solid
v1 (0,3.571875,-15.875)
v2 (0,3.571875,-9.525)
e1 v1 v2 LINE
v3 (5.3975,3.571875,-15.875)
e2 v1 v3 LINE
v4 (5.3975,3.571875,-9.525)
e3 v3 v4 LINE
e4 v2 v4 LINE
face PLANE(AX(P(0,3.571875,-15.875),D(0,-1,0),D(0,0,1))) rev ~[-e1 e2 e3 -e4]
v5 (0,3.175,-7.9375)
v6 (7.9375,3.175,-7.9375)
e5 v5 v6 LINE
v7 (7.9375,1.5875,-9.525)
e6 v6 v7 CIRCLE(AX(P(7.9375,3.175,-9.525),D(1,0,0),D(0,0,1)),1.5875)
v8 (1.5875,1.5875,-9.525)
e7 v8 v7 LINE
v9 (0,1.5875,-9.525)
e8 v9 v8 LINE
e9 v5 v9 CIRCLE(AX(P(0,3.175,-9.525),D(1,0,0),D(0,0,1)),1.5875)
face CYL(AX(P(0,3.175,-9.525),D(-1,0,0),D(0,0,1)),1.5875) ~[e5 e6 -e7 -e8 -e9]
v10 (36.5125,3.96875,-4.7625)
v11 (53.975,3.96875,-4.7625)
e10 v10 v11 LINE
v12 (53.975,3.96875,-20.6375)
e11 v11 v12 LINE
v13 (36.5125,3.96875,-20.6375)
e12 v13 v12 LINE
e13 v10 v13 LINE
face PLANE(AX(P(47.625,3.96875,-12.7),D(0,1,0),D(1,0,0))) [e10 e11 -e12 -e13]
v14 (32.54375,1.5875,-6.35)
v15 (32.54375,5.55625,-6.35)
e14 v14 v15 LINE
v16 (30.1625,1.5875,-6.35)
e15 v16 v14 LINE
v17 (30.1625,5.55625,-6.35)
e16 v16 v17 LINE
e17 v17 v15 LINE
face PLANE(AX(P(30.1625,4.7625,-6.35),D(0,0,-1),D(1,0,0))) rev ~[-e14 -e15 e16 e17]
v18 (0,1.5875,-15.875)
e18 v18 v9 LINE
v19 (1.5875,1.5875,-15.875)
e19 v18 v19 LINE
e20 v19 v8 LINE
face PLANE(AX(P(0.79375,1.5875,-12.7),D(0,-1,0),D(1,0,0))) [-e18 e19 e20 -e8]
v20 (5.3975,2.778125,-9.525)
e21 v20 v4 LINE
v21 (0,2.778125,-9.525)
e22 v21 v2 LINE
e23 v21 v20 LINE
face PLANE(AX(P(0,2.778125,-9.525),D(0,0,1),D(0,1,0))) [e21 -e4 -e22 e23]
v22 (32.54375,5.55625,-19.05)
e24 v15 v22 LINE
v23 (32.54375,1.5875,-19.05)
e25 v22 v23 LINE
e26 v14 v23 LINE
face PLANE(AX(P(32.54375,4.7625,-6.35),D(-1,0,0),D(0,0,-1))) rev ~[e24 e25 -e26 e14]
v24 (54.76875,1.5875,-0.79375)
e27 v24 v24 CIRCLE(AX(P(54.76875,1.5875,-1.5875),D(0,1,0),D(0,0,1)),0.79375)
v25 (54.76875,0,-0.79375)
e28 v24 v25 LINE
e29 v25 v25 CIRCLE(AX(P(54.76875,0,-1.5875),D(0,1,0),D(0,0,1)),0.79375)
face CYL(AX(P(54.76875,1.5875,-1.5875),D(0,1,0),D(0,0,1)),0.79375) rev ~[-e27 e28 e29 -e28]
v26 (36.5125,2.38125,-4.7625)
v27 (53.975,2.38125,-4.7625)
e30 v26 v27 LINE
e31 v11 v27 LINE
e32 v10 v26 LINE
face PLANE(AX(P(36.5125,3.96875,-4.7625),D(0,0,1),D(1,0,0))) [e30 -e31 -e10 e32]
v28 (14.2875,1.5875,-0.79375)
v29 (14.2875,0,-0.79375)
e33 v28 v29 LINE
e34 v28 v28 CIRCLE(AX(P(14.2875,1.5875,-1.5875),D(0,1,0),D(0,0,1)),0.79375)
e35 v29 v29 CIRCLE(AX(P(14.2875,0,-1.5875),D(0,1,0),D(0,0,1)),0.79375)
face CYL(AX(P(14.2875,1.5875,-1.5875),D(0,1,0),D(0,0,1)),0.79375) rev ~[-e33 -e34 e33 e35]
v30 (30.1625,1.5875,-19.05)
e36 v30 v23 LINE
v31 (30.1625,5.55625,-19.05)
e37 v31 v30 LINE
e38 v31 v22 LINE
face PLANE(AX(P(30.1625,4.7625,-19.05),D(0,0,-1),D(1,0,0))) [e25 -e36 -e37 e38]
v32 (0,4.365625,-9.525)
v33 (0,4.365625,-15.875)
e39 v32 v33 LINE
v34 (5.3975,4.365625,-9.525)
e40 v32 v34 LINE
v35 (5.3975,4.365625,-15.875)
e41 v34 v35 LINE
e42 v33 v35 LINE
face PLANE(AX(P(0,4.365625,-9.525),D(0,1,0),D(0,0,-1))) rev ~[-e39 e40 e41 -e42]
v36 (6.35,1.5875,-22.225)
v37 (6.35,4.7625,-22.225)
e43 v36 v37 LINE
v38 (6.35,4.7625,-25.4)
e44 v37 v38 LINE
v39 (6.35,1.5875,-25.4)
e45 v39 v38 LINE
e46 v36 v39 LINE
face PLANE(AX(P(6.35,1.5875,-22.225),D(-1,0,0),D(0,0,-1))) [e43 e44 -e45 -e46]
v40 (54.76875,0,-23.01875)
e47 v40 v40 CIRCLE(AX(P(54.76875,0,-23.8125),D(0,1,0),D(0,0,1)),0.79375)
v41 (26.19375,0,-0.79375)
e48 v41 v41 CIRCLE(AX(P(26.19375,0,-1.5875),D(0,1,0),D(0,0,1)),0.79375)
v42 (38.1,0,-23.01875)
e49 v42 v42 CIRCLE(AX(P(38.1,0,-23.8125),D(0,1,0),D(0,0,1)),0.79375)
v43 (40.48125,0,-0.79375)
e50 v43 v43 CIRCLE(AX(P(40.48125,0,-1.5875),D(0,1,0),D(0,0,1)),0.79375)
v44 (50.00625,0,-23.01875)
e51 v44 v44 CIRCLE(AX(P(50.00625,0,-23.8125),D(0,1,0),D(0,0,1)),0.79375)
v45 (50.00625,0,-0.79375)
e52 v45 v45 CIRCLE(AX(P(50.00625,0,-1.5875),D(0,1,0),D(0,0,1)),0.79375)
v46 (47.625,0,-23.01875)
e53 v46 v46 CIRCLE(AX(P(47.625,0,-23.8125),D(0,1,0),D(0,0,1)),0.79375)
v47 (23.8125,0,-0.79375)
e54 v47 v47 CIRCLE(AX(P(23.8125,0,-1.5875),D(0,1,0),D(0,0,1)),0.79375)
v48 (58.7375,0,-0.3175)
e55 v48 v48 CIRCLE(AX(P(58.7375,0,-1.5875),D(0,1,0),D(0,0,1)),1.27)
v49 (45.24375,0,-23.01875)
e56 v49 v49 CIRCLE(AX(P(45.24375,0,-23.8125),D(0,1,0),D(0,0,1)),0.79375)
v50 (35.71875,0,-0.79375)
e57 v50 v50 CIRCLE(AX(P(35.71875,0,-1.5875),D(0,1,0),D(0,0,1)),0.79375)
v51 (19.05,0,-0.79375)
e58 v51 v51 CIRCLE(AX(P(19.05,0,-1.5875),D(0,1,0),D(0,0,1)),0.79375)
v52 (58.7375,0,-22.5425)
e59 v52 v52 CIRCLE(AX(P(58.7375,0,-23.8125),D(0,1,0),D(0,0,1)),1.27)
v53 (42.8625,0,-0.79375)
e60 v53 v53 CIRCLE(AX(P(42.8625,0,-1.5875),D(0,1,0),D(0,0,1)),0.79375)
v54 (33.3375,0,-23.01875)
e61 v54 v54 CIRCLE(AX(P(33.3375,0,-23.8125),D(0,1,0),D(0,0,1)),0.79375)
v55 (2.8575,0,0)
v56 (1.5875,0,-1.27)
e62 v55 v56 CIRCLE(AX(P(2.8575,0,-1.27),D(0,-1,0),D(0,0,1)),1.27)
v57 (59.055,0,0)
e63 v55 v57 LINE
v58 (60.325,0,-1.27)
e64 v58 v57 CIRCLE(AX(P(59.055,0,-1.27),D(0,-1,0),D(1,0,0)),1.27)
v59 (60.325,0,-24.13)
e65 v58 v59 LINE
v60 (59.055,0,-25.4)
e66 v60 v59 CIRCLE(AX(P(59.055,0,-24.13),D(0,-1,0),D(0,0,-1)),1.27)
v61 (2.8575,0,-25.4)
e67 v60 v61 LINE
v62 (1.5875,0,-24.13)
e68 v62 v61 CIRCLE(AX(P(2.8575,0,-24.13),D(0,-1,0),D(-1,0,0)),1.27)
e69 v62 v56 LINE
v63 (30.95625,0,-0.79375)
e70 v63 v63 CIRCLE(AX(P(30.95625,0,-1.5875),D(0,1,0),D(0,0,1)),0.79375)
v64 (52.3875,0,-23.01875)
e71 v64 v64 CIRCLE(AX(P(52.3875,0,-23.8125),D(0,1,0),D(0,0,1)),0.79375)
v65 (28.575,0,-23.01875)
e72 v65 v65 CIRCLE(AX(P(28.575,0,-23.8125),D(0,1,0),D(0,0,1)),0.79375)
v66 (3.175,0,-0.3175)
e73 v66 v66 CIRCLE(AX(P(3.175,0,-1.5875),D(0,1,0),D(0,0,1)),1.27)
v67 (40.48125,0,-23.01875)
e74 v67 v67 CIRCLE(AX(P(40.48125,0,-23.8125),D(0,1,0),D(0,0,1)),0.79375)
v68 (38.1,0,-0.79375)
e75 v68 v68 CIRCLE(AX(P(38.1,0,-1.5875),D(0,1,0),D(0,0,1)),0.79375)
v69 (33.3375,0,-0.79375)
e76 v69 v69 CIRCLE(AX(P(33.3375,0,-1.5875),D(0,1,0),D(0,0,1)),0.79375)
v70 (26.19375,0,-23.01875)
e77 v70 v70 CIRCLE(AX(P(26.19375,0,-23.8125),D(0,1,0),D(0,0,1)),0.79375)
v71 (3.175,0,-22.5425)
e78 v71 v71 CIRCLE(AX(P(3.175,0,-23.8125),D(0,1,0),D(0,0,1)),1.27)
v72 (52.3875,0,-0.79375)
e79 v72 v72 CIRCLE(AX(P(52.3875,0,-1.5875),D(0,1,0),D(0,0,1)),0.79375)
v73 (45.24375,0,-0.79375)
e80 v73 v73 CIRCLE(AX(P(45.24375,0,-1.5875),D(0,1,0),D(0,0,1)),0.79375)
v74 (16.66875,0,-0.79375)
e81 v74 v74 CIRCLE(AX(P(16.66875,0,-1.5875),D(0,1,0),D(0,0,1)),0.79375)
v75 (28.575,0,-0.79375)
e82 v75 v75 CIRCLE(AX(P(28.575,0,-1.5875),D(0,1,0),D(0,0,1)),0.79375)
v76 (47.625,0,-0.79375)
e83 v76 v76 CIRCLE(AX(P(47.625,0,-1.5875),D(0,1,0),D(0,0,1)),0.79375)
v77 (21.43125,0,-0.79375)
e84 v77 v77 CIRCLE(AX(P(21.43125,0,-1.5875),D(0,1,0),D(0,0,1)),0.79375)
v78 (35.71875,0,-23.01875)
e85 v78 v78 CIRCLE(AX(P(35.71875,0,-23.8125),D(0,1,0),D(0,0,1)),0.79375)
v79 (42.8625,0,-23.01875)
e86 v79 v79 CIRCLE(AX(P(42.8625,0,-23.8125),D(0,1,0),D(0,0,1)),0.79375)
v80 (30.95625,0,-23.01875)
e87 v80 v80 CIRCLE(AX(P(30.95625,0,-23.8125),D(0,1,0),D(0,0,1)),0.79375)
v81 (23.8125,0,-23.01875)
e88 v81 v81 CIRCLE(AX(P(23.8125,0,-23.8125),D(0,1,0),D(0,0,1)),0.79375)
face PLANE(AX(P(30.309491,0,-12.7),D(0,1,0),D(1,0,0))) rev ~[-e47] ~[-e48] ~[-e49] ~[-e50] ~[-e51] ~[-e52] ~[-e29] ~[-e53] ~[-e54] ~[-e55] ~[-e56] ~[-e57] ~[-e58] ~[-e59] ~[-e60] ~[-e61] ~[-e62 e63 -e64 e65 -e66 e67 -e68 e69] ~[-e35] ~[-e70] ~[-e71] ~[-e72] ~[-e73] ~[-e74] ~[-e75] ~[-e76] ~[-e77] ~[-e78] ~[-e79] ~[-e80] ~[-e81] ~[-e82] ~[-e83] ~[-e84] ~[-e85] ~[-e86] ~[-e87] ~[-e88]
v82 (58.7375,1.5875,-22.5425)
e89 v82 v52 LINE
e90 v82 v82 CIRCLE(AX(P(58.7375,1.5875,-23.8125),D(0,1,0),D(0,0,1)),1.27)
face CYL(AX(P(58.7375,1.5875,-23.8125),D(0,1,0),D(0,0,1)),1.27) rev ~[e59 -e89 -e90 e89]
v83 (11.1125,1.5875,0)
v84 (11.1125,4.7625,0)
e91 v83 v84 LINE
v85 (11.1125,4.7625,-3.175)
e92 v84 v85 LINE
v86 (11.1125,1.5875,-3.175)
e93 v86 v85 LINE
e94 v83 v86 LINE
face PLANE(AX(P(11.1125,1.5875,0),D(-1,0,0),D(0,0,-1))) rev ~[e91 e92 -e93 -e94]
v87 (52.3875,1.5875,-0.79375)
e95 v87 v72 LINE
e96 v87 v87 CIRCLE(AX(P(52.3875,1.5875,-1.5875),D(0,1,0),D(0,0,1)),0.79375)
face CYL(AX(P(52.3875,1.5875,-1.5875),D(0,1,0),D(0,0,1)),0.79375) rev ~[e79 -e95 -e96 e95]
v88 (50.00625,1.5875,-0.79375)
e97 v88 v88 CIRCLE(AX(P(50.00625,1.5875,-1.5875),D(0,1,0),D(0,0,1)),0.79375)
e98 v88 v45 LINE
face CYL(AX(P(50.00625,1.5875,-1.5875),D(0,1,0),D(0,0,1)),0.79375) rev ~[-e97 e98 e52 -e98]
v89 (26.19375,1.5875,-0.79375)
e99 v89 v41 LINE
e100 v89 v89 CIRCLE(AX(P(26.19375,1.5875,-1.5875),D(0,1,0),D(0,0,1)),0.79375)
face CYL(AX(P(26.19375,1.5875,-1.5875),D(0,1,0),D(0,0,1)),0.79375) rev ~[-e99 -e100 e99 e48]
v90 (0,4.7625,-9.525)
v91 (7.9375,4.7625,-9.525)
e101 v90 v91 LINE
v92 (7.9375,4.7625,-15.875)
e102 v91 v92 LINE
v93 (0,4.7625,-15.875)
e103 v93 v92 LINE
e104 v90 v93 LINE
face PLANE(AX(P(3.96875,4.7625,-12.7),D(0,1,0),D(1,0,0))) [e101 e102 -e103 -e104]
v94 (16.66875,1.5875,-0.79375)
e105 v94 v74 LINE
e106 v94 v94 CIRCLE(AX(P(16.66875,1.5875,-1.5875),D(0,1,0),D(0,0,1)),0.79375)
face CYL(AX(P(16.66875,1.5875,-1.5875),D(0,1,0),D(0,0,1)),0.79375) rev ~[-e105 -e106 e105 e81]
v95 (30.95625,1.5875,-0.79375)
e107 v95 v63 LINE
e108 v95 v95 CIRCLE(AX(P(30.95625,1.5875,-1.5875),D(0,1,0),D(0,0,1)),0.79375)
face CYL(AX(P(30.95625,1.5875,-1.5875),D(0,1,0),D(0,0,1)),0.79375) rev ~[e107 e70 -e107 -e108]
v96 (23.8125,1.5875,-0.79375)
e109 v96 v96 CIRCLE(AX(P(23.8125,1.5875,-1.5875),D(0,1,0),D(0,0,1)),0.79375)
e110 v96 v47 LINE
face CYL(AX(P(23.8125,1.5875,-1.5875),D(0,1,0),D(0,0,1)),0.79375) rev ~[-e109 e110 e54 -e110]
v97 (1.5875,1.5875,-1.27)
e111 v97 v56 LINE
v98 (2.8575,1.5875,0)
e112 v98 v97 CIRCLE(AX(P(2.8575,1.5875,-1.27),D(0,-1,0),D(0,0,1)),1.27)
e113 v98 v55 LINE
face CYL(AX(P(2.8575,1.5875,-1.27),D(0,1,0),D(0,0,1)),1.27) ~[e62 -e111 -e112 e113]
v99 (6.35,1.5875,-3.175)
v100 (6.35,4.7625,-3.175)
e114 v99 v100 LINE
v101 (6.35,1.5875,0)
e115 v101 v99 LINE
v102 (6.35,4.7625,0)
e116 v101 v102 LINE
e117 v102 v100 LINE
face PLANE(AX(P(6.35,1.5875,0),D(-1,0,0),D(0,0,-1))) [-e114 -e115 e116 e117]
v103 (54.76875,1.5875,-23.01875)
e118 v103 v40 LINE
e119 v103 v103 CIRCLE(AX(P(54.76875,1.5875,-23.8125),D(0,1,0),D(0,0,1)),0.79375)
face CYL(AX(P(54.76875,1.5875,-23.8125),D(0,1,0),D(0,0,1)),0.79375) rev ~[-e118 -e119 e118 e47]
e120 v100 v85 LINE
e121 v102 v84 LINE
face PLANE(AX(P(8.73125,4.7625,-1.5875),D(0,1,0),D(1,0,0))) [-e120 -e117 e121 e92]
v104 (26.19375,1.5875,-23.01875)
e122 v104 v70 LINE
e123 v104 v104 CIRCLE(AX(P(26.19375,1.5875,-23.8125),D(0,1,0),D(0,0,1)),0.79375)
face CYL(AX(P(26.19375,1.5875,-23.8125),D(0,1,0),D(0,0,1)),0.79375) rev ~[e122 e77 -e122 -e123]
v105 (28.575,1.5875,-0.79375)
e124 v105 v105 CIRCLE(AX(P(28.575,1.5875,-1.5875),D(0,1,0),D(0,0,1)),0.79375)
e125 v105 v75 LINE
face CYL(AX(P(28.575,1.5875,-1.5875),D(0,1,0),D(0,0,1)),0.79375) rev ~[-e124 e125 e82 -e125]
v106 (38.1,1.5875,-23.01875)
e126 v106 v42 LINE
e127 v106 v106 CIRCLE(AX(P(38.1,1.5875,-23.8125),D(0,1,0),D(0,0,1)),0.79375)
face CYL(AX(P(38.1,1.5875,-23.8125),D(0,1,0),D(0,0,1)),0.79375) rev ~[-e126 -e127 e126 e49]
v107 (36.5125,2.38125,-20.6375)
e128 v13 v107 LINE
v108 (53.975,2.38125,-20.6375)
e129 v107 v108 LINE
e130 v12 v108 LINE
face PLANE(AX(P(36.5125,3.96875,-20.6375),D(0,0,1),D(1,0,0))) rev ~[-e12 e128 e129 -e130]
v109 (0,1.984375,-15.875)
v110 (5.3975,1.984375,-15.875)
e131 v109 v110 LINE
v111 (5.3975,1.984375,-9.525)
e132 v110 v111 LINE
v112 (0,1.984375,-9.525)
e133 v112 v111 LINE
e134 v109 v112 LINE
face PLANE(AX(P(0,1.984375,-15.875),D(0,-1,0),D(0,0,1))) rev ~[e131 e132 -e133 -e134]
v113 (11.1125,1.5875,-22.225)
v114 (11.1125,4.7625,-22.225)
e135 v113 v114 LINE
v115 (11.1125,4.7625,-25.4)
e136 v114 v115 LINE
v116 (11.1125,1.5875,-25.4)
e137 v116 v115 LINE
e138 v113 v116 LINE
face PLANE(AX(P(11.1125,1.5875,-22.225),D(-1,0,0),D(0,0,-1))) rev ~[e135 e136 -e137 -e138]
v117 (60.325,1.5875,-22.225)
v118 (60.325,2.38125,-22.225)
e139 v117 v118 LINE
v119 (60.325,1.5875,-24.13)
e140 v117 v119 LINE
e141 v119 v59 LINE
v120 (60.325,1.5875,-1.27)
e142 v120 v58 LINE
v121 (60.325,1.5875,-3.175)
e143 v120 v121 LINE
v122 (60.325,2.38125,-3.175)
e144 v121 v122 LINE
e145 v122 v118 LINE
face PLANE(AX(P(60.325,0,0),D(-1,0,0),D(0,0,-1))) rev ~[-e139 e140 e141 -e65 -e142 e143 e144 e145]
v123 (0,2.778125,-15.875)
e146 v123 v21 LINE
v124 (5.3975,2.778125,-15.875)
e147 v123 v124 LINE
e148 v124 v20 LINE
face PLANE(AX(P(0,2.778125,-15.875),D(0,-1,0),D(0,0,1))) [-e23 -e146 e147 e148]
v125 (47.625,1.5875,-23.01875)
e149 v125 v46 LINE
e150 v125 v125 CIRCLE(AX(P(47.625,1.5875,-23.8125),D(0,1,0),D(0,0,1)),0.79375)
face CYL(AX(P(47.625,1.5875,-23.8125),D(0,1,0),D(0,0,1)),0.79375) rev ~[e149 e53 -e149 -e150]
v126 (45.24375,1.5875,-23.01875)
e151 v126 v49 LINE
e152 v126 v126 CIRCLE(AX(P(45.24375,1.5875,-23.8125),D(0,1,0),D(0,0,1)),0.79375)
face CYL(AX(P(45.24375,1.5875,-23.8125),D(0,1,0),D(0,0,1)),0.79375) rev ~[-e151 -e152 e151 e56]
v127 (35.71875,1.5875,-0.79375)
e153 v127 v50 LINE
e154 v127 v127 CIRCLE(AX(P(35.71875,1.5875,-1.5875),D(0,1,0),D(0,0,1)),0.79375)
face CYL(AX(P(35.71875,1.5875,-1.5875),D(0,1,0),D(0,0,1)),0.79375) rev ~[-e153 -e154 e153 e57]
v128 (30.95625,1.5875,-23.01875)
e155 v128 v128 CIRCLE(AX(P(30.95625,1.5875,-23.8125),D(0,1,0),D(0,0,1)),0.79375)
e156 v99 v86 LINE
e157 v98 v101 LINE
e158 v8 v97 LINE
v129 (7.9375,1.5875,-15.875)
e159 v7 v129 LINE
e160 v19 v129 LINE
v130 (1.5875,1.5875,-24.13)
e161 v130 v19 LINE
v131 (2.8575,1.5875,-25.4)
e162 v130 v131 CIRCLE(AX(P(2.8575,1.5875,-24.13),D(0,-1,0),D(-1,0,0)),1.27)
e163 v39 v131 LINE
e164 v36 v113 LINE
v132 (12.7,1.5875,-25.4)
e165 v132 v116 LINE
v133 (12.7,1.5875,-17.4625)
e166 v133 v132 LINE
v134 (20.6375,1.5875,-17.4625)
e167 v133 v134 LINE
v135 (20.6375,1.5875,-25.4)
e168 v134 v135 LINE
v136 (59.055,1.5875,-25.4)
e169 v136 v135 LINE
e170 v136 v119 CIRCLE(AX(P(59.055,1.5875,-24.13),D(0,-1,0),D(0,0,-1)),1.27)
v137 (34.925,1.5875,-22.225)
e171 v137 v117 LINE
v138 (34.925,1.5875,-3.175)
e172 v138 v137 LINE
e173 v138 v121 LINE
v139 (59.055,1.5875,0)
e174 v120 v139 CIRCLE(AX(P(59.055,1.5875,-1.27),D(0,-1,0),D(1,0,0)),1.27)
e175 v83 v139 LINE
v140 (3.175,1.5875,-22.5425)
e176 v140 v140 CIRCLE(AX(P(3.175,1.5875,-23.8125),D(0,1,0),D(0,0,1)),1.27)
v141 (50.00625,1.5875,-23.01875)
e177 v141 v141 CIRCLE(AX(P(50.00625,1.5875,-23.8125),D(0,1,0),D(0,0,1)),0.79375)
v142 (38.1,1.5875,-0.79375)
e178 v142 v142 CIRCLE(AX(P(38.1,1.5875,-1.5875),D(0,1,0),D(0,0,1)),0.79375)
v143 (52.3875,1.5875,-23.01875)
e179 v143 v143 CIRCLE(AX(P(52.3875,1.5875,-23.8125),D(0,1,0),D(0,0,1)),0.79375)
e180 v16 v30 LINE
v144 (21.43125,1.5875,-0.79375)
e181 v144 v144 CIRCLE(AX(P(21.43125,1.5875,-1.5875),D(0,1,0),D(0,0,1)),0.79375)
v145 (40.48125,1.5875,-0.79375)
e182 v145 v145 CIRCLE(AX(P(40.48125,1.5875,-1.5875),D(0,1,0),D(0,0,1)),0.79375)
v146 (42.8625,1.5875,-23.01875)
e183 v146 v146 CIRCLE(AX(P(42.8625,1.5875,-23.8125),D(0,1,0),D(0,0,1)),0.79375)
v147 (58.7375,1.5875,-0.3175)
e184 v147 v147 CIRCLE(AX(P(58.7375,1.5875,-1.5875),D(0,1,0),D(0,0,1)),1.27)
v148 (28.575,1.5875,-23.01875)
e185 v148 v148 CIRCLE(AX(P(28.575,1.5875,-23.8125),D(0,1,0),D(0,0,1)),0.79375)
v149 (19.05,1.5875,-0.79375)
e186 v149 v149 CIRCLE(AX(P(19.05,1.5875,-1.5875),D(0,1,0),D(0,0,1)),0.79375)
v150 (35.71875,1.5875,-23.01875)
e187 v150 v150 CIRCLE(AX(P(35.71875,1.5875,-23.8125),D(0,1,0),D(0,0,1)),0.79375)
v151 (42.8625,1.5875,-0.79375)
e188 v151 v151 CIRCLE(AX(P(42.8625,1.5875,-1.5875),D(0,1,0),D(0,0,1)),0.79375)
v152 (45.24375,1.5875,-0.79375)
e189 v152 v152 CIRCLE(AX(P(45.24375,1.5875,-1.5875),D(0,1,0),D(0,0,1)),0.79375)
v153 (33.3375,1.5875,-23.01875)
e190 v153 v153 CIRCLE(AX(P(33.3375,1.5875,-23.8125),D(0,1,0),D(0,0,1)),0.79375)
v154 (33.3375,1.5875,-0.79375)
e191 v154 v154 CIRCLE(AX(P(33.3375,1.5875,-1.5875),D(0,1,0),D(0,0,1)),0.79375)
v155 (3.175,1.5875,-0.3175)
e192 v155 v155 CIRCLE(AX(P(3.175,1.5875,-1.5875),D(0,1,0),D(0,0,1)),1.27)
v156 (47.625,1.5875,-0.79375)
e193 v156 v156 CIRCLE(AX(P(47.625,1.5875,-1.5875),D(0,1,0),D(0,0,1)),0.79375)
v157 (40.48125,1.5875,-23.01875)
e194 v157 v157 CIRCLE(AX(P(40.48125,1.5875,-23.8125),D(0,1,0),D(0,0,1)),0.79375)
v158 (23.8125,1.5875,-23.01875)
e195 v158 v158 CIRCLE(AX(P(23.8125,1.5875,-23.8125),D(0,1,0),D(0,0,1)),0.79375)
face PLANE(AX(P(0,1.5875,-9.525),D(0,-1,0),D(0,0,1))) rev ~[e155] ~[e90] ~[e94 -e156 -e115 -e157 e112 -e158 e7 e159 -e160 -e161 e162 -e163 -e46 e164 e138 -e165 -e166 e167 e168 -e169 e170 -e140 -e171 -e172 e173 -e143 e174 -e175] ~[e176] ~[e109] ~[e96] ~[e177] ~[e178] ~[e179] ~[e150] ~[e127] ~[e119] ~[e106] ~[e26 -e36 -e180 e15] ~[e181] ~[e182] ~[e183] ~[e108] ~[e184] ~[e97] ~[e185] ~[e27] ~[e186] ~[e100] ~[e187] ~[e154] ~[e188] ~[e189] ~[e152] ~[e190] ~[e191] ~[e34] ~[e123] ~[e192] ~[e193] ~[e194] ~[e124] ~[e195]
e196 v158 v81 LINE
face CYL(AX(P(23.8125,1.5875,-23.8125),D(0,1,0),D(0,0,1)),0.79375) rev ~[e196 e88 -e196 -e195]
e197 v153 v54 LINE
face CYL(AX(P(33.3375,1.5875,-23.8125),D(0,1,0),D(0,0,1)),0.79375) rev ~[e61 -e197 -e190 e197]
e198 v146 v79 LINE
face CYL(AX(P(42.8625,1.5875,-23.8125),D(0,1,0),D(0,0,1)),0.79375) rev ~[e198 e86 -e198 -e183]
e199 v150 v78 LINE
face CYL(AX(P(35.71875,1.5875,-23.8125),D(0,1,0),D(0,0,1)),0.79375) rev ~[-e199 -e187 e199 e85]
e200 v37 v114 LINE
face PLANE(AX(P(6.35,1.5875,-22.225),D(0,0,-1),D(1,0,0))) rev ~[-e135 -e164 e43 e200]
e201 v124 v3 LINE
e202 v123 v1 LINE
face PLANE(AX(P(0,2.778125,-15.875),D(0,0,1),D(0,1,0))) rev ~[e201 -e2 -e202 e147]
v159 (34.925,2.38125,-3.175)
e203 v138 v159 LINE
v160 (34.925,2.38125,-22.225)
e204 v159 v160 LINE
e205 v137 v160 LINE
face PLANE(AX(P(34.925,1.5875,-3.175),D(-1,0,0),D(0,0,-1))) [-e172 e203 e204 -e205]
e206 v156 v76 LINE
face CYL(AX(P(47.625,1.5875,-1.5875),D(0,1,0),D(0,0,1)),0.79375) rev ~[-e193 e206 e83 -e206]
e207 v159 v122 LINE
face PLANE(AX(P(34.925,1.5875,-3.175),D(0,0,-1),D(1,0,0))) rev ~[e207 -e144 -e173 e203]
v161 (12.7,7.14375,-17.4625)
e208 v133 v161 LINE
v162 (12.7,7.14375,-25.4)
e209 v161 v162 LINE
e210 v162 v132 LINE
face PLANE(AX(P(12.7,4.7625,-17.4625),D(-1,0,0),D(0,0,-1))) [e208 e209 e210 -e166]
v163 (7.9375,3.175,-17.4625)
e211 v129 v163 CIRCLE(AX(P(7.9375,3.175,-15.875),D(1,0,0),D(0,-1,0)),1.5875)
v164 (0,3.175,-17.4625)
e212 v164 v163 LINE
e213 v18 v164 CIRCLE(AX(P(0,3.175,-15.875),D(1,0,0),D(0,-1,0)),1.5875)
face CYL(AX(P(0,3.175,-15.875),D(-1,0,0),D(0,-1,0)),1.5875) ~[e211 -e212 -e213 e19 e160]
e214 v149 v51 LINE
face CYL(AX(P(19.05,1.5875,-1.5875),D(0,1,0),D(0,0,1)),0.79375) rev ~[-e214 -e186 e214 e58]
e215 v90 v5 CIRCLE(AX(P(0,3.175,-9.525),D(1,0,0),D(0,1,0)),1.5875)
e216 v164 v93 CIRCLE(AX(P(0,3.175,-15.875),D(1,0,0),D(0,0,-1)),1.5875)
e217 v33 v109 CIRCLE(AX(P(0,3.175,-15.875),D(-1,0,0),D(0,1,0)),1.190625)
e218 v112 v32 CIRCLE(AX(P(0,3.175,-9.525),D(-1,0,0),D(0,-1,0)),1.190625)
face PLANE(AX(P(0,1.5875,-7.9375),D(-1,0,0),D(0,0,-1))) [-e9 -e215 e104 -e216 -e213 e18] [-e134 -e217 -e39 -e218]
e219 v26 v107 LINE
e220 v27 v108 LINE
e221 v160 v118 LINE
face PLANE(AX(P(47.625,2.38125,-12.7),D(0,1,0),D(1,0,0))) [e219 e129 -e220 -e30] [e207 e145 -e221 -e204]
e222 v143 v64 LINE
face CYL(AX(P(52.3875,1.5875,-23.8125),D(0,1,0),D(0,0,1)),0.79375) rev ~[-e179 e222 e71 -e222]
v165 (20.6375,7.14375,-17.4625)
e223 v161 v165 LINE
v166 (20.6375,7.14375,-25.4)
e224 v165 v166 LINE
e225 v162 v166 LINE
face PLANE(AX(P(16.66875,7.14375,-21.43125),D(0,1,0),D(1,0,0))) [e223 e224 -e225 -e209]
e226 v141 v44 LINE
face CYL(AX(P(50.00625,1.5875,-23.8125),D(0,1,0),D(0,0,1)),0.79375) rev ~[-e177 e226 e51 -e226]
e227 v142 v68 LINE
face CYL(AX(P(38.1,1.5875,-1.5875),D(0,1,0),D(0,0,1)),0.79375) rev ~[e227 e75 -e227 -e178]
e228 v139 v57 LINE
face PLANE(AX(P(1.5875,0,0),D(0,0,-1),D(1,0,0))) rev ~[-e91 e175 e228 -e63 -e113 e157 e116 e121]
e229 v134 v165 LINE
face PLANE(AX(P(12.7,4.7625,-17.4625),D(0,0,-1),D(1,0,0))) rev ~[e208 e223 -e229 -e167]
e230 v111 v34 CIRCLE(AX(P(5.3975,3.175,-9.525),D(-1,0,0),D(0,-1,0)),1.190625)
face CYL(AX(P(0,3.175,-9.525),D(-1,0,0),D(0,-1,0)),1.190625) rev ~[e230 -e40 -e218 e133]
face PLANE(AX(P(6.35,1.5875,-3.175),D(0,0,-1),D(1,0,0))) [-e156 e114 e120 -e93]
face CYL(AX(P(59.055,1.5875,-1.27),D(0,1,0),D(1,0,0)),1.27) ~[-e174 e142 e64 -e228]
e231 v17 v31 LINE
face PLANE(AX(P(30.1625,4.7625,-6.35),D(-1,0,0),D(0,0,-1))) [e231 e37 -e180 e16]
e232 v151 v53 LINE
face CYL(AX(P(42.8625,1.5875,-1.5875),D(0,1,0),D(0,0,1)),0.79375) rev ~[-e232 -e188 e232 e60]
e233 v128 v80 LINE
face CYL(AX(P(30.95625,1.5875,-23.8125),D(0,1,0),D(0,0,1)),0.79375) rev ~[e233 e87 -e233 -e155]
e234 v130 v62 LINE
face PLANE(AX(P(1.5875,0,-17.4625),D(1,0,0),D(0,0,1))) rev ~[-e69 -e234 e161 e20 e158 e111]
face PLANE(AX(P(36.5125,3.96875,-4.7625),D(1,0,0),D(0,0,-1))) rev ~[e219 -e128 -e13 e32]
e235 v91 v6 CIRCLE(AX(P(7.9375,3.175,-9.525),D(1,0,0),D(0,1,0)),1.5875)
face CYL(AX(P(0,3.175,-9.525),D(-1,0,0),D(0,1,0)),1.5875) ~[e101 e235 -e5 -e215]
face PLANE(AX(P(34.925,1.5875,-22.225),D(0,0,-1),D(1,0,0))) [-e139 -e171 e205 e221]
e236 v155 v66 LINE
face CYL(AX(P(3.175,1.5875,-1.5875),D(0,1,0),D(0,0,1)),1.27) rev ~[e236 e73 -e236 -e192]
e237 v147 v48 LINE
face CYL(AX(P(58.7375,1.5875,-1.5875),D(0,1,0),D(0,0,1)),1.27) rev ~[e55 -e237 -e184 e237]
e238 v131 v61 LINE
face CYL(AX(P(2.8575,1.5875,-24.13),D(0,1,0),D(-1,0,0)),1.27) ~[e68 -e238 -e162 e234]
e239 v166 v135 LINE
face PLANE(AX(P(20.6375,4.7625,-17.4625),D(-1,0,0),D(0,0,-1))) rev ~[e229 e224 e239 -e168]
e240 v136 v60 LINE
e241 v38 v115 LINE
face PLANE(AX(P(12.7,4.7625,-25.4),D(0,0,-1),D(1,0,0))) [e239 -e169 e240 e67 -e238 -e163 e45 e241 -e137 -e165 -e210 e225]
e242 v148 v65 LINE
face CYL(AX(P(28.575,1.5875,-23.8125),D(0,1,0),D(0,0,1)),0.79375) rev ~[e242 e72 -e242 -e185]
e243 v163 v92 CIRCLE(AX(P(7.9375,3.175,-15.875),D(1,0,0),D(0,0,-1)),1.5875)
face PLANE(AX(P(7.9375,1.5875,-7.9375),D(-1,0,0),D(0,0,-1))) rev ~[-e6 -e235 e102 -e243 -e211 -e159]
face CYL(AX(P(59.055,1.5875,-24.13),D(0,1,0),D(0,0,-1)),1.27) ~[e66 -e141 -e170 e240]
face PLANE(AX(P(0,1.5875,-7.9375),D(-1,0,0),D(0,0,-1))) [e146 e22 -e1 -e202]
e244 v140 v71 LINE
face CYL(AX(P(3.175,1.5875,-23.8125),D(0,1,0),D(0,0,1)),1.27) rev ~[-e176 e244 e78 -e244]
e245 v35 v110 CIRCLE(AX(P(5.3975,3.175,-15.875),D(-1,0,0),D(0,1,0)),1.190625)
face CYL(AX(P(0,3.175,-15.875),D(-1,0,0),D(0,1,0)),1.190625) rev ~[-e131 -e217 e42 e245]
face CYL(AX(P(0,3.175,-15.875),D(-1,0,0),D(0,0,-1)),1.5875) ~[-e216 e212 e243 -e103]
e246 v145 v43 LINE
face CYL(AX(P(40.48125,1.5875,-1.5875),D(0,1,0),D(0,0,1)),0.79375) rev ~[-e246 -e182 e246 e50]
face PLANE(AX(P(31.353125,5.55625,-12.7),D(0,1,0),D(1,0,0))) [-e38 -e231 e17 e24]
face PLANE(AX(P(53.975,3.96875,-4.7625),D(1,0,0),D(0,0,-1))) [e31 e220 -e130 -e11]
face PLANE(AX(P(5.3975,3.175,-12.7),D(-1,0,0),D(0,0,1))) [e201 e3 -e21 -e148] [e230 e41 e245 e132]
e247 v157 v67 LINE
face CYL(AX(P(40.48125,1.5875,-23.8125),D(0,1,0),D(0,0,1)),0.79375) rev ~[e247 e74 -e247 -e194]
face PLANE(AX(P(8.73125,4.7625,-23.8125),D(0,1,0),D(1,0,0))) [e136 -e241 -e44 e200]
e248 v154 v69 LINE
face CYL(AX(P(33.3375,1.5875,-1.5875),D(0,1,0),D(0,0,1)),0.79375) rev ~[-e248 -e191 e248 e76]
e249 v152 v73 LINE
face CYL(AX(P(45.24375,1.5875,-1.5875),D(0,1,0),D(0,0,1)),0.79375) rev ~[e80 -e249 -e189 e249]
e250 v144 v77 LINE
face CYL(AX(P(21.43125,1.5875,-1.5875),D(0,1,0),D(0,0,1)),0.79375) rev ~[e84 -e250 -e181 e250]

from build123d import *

# Parameters (mm, degrees)
BOSS_EXTRUDE1_DEPTH = 1.5875
SKETCH2_W           = 7.9375
SKETCH2_H           = 9.525
BOSS_EXTRUDE2_DEPTH = 3.175
CUT_EXTRUDE2_DEPTH  = 7.9375
SKETCH4_W           = 6.35
SKETCH4_H           = 0.79375
CUT_EXTRUDE3_DEPTH  = 5.3975
SKETCH5_W           = 1.5875
SKETCH5_H           = 9.525
CUT_EXTRUDE4_DEPTH  = 1.5875
SKETCH6_R           = 1.27
CUT_EXTRUDE5_DEPTH  = 1.5875
SKETCH7_W           = 25.4
SKETCH7_H           = 19.05
SKETCH7_W_2         = 17.62125
SKETCH7_H_2         = 15.875
SKETCH7_W_3         = 4.7625
SKETCH7_H_3         = 3.175
SKETCH7_W_4         = 7.9375
SKETCH7_H_4         = 7.9375
SKETCH7_W_5         = 2.38125
SKETCH7_H_5         = 12.7
BOSS_EXTRUDE3_DEPTH = 3.175
SKETCH10_W          = 7.9375
SKETCH10_H          = 7.9375
BOSS_EXTRUDE4_DEPTH = 2.38125
SKETCH11_W          = 2.38125
SKETCH11_H          = 12.7
BOSS_EXTRUDE5_DEPTH = 0.79375
SKETCH12_W          = 25.4
SKETCH12_H          = 19.05
CUT_EXTRUDE6_DEPTH  = 0.79375
SKETCH13_W          = 25.4
SKETCH13_H          = 19.05
SKETCH13_W_2        = 17.4625
SKETCH13_H_2        = 15.875
CUT_EXTRUDE7_DEPTH  = 1.5875
SKETCH14_R          = 0.79375
CUT_EXTRUDE8_DEPTH  = 1.5875


with BuildPart() as part:
    # Sketch1 → Boss-Extrude1 (new body)
    with BuildSketch(Plane(origin=(0, 0, 0), x_dir=(1, 0, 0), z_dir=(0, 1, 0))):
        Polygon((1.5875, 7.9375), (1.5875, 0), (60.325, 0), (60.325, 25.4), (1.5875, 25.4), (1.5875, 17.4625), (0, 17.4625), (0, 7.9375), align=None)
    extrude(amount=BOSS_EXTRUDE1_DEPTH)

    # Sketch2 → Boss-Extrude2 (add)
    with BuildSketch(Plane(origin=(0, 1.5875, 0), x_dir=(1, 0, 0), z_dir=(0, 1, 0))):
        with Locations((3.96875, 12.7)):
            Rectangle(SKETCH2_W, SKETCH2_H)
    extrude(amount=BOSS_EXTRUDE2_DEPTH)

    # Sketch3 → Cut-Extrude2 (cut)
    with BuildSketch(Plane.ZY):
        with BuildLine():
            Line((-15.875, 4.7625), (-17.4625, 4.7625))
            Line((-17.4625, 4.7625), (-17.4625, 3.175))
            ThreePointArc((-17.4625, 3.175), (-16.997532015, 4.297532015), (-15.875, 4.7625))
        make_face()
        with BuildLine():
            ThreePointArc((-15.875, 1.5875), (-16.997532015, 2.052467985), (-17.4625, 3.175))
            Line((-17.4625, 3.175), (-17.4625, 1.5875))
            Line((-17.4625, 1.5875), (-15.875, 1.5875))
        make_face()
        with BuildLine():
            Line((-7.9375, 4.7625), (-9.525, 4.7625))
            ThreePointArc((-9.525, 4.7625), (-8.402467985, 4.297532015), (-7.9375, 3.175))
            Line((-7.9375, 3.175), (-7.9375, 4.7625))
        make_face()
        with BuildLine():
            Line((-7.9375, 1.5875), (-7.9375, 3.175))
            ThreePointArc((-7.9375, 3.175), (-8.402467985, 2.052467985), (-9.525, 1.5875))
            Line((-9.525, 1.5875), (-7.9375, 1.5875))
        make_face()
    extrude(amount=-CUT_EXTRUDE2_DEPTH, mode=Mode.SUBTRACT)

    # Sketch4 → Cut-Extrude3 (cut)
    with BuildSketch(Plane.ZY):
        with BuildLine():
            Line((-15.875, 1.984375), (-9.525, 1.984375))
            ThreePointArc((-9.525, 1.984375), (-8.334375, 3.175), (-9.525, 4.365625))
            Line((-9.525, 4.365625), (-15.875, 4.365625))
            ThreePointArc((-15.875, 4.365625), (-17.065625, 3.175), (-15.875, 1.984375))
        make_face()
        with Locations((-12.7, 3.175)):
            Rectangle(SKETCH4_W, SKETCH4_H, mode=Mode.SUBTRACT)
    extrude(amount=-CUT_EXTRUDE3_DEPTH, mode=Mode.SUBTRACT)

    # Sketch5 → Cut-Extrude4 (cut)
    with BuildSketch(Plane.XZ):
        with Locations((0.79375, -12.7)):
            Rectangle(SKETCH5_W, SKETCH5_H)
    extrude(amount=-CUT_EXTRUDE4_DEPTH, mode=Mode.SUBTRACT)

    # Sketch6 → Cut-Extrude5 (cut)
    with BuildSketch(Plane(origin=(0, 1.5875, 0), x_dir=(1, 0, 0), z_dir=(0, 1, 0))):
        with BuildLine():
            ThreePointArc((1.5875, 24.13), (1.959474388, 25.028025612), (2.8575, 25.4))
            Line((2.8575, 25.4), (1.5875, 25.4))
            Line((1.5875, 25.4), (1.5875, 24.13))
        make_face()
        with BuildLine():
            ThreePointArc((2.8575, 0), (1.959474388, 0.371974388), (1.5875, 1.27))
            Line((1.5875, 1.27), (1.5875, 0))
            Line((1.5875, 0), (2.8575, 0))
        make_face()
        with BuildLine():
            Line((60.325, 0), (60.325, 1.27))
            ThreePointArc((60.325, 1.27), (59.953025612, 0.371974388), (59.055, 0))
            Line((59.055, 0), (60.325, 0))
        make_face()
        with BuildLine():
            Line((60.325, 25.4), (59.055, 25.4))
            ThreePointArc((59.055, 25.4), (59.953025612, 25.028025612), (60.325, 24.13))
            Line((60.325, 24.13), (60.325, 25.4))
        make_face()
        with Locations(Location((3.175, 23.8125, 0), (0, 0, 270))):
            Circle(SKETCH6_R)
        with Locations(Location((3.175, 1.5875, 0), (0, 0, 270))):
            Circle(SKETCH6_R)
        with Locations(Location((58.7375, 1.5875, 0), (0, 0, 270))):
            Circle(SKETCH6_R)
        with Locations(Location((58.7375, 23.8125, 0), (0, 0, 270))):
            Circle(SKETCH6_R)
    extrude(amount=-CUT_EXTRUDE5_DEPTH, mode=Mode.SUBTRACT)

    # Sketch7 → Boss-Extrude3 (add)
    with BuildSketch(Plane(origin=(0, 1.5875, 0), x_dir=(1, 0, 0), z_dir=(0, 1, 0))):
        with Locations((47.625, 12.7)):
            Rectangle(SKETCH7_W, SKETCH7_H)
        with Locations((45.323125, 12.7)):
            Rectangle(SKETCH7_W_2, SKETCH7_H_2, mode=Mode.SUBTRACT)
        with Locations((45.323125, 12.7)):
            Rectangle(SKETCH7_W_2, SKETCH7_H_2)
        with Locations((8.73125, 23.8125)):
            Rectangle(SKETCH7_W_3, SKETCH7_H_3)
        with Locations((8.73125, 1.5875)):
            Rectangle(SKETCH7_W_3, SKETCH7_H_3)
        with Locations((16.66875, 21.43125)):
            Rectangle(SKETCH7_W_4, SKETCH7_H_4)
        with Locations((31.353125, 12.7)):
            Rectangle(SKETCH7_W_5, SKETCH7_H_5)
    extrude(amount=BOSS_EXTRUDE3_DEPTH)

    # Sketch10 → Boss-Extrude4 (add)
    with BuildSketch(Plane(origin=(0, 4.7625, 0), x_dir=(1, 0, 0), z_dir=(0, 1, 0))):
        with Locations((16.66875, 21.43125)):
            Rectangle(SKETCH10_W, SKETCH10_H)
    extrude(amount=BOSS_EXTRUDE4_DEPTH)

    # Sketch11 → Boss-Extrude5 (add)
    with BuildSketch(Plane(origin=(0, 4.7625, 0), x_dir=(1, 0, 0), z_dir=(0, 1, 0))):
        with Locations((31.353125, 12.7)):
            Rectangle(SKETCH11_W, SKETCH11_H)
    extrude(amount=BOSS_EXTRUDE5_DEPTH)

    # Sketch12 → Cut-Extrude6 (cut)
    with BuildSketch(Plane(origin=(0, 4.7625, 0), x_dir=(1, 0, 0), z_dir=(0, 1, 0))):
        with Locations((47.625, 12.7)):
            Rectangle(SKETCH12_W, SKETCH12_H)
    extrude(amount=-CUT_EXTRUDE6_DEPTH, mode=Mode.SUBTRACT)

    # Sketch13 → Cut-Extrude7 (cut)
    with BuildSketch(Plane(origin=(0, 3.96875, 0), x_dir=(1, 0, 0), z_dir=(0, 1, 0))):
        with Locations((47.625, 12.7)):
            Rectangle(SKETCH13_W, SKETCH13_H)
        with Locations((45.24375, 12.7)):
            Rectangle(SKETCH13_W_2, SKETCH13_H_2, mode=Mode.SUBTRACT)
    extrude(amount=-CUT_EXTRUDE7_DEPTH, mode=Mode.SUBTRACT)

    # Sketch14 → Cut-Extrude8 (cut)
    with BuildSketch(Plane(origin=(0, 1.5875, 0), x_dir=(1, 0, 0), z_dir=(0, 1, 0))):
        with Locations(Location((23.8125, 23.8125, 0), (0, 0, 270))):
            Circle(SKETCH14_R)
        with Locations(Location((26.19375, 23.8125, 0), (0, 0, 270))):
            Circle(SKETCH14_R)
        with Locations(Location((28.575, 23.8125, 0), (0, 0, 270))):
            Circle(SKETCH14_R)
        with Locations(Location((30.95625, 23.8125, 0), (0, 0, 270))):
            Circle(SKETCH14_R)
        with Locations(Location((38.1, 23.8125, 0), (0, 0, 270))):
            Circle(SKETCH14_R)
        with Locations(Location((42.8625, 23.8125, 0), (0, 0, 270))):
            Circle(SKETCH14_R)
        with Locations(Location((33.3375, 23.8125, 0), (0, 0, 270))):
            Circle(SKETCH14_R)
        with Locations(Location((35.71875, 23.8125, 0), (0, 0, 270))):
            Circle(SKETCH14_R)
        with Locations(Location((40.48125, 23.8125, 0), (0, 0, 270))):
            Circle(SKETCH14_R)
        with Locations(Location((45.24375, 23.8125, 0), (0, 0, 270))):
            Circle(SKETCH14_R)
        with Locations(Location((47.625, 23.8125, 0), (0, 0, 270))):
            Circle(SKETCH14_R)
        with Locations(Location((50.00625, 23.8125, 0), (0, 0, 270))):
            Circle(SKETCH14_R)
        with Locations(Location((52.3875, 23.8125, 0), (0, 0, 270))):
            Circle(SKETCH14_R)
        with Locations(Location((54.76875, 23.8125, 0), (0, 0, 270))):
            Circle(SKETCH14_R)
        with Locations(Location((14.2875, 1.5875, 0), (0, 0, 270))):
            Circle(SKETCH14_R)
        with Locations(Location((16.66875, 1.5875, 0), (0, 0, 270))):
            Circle(SKETCH14_R)
        with Locations(Location((19.05, 1.5875, 0), (0, 0, 270))):
            Circle(SKETCH14_R)
        with Locations(Location((21.43125, 1.5875, 0), (0, 0, 270))):
            Circle(SKETCH14_R)
        with Locations(Location((23.8125, 1.5875, 0), (0, 0, 270))):
            Circle(SKETCH14_R)
        with Locations(Location((26.19375, 1.5875, 0), (0, 0, 270))):
            Circle(SKETCH14_R)
        with Locations(Location((28.575, 1.5875, 0), (0, 0, 270))):
            Circle(SKETCH14_R)
        with Locations(Location((30.95625, 1.5875, 0), (0, 0, 270))):
            Circle(SKETCH14_R)
        with Locations(Location((33.3375, 1.5875, 0), (0, 0, 270))):
            Circle(SKETCH14_R)
        with Locations(Location((35.71875, 1.5875, 0), (0, 0, 270))):
            Circle(SKETCH14_R)
        with Locations(Location((38.1, 1.5875, 0), (0, 0, 270))):
            Circle(SKETCH14_R)
        with Locations(Location((40.48125, 1.5875, 0), (0, 0, 270))):
            Circle(SKETCH14_R)
        with Locations(Location((42.8625, 1.5875, 0), (0, 0, 270))):
            Circle(SKETCH14_R)
        with Locations(Location((45.24375, 1.5875, 0), (0, 0, 270))):
            Circle(SKETCH14_R)
        with Locations(Location((47.625, 1.5875, 0), (0, 0, 270))):
            Circle(SKETCH14_R)
        with Locations(Location((50.00625, 1.5875, 0), (0, 0, 270))):
            Circle(SKETCH14_R)
        with Locations(Location((52.3875, 1.5875, 0), (0, 0, 270))):
            Circle(SKETCH14_R)
        with Locations(Location((54.76875, 1.5875, 0), (0, 0, 270))):
            Circle(SKETCH14_R)
    extrude(amount=-CUT_EXTRUDE8_DEPTH, mode=Mode.SUBTRACT)


solid = part.part
